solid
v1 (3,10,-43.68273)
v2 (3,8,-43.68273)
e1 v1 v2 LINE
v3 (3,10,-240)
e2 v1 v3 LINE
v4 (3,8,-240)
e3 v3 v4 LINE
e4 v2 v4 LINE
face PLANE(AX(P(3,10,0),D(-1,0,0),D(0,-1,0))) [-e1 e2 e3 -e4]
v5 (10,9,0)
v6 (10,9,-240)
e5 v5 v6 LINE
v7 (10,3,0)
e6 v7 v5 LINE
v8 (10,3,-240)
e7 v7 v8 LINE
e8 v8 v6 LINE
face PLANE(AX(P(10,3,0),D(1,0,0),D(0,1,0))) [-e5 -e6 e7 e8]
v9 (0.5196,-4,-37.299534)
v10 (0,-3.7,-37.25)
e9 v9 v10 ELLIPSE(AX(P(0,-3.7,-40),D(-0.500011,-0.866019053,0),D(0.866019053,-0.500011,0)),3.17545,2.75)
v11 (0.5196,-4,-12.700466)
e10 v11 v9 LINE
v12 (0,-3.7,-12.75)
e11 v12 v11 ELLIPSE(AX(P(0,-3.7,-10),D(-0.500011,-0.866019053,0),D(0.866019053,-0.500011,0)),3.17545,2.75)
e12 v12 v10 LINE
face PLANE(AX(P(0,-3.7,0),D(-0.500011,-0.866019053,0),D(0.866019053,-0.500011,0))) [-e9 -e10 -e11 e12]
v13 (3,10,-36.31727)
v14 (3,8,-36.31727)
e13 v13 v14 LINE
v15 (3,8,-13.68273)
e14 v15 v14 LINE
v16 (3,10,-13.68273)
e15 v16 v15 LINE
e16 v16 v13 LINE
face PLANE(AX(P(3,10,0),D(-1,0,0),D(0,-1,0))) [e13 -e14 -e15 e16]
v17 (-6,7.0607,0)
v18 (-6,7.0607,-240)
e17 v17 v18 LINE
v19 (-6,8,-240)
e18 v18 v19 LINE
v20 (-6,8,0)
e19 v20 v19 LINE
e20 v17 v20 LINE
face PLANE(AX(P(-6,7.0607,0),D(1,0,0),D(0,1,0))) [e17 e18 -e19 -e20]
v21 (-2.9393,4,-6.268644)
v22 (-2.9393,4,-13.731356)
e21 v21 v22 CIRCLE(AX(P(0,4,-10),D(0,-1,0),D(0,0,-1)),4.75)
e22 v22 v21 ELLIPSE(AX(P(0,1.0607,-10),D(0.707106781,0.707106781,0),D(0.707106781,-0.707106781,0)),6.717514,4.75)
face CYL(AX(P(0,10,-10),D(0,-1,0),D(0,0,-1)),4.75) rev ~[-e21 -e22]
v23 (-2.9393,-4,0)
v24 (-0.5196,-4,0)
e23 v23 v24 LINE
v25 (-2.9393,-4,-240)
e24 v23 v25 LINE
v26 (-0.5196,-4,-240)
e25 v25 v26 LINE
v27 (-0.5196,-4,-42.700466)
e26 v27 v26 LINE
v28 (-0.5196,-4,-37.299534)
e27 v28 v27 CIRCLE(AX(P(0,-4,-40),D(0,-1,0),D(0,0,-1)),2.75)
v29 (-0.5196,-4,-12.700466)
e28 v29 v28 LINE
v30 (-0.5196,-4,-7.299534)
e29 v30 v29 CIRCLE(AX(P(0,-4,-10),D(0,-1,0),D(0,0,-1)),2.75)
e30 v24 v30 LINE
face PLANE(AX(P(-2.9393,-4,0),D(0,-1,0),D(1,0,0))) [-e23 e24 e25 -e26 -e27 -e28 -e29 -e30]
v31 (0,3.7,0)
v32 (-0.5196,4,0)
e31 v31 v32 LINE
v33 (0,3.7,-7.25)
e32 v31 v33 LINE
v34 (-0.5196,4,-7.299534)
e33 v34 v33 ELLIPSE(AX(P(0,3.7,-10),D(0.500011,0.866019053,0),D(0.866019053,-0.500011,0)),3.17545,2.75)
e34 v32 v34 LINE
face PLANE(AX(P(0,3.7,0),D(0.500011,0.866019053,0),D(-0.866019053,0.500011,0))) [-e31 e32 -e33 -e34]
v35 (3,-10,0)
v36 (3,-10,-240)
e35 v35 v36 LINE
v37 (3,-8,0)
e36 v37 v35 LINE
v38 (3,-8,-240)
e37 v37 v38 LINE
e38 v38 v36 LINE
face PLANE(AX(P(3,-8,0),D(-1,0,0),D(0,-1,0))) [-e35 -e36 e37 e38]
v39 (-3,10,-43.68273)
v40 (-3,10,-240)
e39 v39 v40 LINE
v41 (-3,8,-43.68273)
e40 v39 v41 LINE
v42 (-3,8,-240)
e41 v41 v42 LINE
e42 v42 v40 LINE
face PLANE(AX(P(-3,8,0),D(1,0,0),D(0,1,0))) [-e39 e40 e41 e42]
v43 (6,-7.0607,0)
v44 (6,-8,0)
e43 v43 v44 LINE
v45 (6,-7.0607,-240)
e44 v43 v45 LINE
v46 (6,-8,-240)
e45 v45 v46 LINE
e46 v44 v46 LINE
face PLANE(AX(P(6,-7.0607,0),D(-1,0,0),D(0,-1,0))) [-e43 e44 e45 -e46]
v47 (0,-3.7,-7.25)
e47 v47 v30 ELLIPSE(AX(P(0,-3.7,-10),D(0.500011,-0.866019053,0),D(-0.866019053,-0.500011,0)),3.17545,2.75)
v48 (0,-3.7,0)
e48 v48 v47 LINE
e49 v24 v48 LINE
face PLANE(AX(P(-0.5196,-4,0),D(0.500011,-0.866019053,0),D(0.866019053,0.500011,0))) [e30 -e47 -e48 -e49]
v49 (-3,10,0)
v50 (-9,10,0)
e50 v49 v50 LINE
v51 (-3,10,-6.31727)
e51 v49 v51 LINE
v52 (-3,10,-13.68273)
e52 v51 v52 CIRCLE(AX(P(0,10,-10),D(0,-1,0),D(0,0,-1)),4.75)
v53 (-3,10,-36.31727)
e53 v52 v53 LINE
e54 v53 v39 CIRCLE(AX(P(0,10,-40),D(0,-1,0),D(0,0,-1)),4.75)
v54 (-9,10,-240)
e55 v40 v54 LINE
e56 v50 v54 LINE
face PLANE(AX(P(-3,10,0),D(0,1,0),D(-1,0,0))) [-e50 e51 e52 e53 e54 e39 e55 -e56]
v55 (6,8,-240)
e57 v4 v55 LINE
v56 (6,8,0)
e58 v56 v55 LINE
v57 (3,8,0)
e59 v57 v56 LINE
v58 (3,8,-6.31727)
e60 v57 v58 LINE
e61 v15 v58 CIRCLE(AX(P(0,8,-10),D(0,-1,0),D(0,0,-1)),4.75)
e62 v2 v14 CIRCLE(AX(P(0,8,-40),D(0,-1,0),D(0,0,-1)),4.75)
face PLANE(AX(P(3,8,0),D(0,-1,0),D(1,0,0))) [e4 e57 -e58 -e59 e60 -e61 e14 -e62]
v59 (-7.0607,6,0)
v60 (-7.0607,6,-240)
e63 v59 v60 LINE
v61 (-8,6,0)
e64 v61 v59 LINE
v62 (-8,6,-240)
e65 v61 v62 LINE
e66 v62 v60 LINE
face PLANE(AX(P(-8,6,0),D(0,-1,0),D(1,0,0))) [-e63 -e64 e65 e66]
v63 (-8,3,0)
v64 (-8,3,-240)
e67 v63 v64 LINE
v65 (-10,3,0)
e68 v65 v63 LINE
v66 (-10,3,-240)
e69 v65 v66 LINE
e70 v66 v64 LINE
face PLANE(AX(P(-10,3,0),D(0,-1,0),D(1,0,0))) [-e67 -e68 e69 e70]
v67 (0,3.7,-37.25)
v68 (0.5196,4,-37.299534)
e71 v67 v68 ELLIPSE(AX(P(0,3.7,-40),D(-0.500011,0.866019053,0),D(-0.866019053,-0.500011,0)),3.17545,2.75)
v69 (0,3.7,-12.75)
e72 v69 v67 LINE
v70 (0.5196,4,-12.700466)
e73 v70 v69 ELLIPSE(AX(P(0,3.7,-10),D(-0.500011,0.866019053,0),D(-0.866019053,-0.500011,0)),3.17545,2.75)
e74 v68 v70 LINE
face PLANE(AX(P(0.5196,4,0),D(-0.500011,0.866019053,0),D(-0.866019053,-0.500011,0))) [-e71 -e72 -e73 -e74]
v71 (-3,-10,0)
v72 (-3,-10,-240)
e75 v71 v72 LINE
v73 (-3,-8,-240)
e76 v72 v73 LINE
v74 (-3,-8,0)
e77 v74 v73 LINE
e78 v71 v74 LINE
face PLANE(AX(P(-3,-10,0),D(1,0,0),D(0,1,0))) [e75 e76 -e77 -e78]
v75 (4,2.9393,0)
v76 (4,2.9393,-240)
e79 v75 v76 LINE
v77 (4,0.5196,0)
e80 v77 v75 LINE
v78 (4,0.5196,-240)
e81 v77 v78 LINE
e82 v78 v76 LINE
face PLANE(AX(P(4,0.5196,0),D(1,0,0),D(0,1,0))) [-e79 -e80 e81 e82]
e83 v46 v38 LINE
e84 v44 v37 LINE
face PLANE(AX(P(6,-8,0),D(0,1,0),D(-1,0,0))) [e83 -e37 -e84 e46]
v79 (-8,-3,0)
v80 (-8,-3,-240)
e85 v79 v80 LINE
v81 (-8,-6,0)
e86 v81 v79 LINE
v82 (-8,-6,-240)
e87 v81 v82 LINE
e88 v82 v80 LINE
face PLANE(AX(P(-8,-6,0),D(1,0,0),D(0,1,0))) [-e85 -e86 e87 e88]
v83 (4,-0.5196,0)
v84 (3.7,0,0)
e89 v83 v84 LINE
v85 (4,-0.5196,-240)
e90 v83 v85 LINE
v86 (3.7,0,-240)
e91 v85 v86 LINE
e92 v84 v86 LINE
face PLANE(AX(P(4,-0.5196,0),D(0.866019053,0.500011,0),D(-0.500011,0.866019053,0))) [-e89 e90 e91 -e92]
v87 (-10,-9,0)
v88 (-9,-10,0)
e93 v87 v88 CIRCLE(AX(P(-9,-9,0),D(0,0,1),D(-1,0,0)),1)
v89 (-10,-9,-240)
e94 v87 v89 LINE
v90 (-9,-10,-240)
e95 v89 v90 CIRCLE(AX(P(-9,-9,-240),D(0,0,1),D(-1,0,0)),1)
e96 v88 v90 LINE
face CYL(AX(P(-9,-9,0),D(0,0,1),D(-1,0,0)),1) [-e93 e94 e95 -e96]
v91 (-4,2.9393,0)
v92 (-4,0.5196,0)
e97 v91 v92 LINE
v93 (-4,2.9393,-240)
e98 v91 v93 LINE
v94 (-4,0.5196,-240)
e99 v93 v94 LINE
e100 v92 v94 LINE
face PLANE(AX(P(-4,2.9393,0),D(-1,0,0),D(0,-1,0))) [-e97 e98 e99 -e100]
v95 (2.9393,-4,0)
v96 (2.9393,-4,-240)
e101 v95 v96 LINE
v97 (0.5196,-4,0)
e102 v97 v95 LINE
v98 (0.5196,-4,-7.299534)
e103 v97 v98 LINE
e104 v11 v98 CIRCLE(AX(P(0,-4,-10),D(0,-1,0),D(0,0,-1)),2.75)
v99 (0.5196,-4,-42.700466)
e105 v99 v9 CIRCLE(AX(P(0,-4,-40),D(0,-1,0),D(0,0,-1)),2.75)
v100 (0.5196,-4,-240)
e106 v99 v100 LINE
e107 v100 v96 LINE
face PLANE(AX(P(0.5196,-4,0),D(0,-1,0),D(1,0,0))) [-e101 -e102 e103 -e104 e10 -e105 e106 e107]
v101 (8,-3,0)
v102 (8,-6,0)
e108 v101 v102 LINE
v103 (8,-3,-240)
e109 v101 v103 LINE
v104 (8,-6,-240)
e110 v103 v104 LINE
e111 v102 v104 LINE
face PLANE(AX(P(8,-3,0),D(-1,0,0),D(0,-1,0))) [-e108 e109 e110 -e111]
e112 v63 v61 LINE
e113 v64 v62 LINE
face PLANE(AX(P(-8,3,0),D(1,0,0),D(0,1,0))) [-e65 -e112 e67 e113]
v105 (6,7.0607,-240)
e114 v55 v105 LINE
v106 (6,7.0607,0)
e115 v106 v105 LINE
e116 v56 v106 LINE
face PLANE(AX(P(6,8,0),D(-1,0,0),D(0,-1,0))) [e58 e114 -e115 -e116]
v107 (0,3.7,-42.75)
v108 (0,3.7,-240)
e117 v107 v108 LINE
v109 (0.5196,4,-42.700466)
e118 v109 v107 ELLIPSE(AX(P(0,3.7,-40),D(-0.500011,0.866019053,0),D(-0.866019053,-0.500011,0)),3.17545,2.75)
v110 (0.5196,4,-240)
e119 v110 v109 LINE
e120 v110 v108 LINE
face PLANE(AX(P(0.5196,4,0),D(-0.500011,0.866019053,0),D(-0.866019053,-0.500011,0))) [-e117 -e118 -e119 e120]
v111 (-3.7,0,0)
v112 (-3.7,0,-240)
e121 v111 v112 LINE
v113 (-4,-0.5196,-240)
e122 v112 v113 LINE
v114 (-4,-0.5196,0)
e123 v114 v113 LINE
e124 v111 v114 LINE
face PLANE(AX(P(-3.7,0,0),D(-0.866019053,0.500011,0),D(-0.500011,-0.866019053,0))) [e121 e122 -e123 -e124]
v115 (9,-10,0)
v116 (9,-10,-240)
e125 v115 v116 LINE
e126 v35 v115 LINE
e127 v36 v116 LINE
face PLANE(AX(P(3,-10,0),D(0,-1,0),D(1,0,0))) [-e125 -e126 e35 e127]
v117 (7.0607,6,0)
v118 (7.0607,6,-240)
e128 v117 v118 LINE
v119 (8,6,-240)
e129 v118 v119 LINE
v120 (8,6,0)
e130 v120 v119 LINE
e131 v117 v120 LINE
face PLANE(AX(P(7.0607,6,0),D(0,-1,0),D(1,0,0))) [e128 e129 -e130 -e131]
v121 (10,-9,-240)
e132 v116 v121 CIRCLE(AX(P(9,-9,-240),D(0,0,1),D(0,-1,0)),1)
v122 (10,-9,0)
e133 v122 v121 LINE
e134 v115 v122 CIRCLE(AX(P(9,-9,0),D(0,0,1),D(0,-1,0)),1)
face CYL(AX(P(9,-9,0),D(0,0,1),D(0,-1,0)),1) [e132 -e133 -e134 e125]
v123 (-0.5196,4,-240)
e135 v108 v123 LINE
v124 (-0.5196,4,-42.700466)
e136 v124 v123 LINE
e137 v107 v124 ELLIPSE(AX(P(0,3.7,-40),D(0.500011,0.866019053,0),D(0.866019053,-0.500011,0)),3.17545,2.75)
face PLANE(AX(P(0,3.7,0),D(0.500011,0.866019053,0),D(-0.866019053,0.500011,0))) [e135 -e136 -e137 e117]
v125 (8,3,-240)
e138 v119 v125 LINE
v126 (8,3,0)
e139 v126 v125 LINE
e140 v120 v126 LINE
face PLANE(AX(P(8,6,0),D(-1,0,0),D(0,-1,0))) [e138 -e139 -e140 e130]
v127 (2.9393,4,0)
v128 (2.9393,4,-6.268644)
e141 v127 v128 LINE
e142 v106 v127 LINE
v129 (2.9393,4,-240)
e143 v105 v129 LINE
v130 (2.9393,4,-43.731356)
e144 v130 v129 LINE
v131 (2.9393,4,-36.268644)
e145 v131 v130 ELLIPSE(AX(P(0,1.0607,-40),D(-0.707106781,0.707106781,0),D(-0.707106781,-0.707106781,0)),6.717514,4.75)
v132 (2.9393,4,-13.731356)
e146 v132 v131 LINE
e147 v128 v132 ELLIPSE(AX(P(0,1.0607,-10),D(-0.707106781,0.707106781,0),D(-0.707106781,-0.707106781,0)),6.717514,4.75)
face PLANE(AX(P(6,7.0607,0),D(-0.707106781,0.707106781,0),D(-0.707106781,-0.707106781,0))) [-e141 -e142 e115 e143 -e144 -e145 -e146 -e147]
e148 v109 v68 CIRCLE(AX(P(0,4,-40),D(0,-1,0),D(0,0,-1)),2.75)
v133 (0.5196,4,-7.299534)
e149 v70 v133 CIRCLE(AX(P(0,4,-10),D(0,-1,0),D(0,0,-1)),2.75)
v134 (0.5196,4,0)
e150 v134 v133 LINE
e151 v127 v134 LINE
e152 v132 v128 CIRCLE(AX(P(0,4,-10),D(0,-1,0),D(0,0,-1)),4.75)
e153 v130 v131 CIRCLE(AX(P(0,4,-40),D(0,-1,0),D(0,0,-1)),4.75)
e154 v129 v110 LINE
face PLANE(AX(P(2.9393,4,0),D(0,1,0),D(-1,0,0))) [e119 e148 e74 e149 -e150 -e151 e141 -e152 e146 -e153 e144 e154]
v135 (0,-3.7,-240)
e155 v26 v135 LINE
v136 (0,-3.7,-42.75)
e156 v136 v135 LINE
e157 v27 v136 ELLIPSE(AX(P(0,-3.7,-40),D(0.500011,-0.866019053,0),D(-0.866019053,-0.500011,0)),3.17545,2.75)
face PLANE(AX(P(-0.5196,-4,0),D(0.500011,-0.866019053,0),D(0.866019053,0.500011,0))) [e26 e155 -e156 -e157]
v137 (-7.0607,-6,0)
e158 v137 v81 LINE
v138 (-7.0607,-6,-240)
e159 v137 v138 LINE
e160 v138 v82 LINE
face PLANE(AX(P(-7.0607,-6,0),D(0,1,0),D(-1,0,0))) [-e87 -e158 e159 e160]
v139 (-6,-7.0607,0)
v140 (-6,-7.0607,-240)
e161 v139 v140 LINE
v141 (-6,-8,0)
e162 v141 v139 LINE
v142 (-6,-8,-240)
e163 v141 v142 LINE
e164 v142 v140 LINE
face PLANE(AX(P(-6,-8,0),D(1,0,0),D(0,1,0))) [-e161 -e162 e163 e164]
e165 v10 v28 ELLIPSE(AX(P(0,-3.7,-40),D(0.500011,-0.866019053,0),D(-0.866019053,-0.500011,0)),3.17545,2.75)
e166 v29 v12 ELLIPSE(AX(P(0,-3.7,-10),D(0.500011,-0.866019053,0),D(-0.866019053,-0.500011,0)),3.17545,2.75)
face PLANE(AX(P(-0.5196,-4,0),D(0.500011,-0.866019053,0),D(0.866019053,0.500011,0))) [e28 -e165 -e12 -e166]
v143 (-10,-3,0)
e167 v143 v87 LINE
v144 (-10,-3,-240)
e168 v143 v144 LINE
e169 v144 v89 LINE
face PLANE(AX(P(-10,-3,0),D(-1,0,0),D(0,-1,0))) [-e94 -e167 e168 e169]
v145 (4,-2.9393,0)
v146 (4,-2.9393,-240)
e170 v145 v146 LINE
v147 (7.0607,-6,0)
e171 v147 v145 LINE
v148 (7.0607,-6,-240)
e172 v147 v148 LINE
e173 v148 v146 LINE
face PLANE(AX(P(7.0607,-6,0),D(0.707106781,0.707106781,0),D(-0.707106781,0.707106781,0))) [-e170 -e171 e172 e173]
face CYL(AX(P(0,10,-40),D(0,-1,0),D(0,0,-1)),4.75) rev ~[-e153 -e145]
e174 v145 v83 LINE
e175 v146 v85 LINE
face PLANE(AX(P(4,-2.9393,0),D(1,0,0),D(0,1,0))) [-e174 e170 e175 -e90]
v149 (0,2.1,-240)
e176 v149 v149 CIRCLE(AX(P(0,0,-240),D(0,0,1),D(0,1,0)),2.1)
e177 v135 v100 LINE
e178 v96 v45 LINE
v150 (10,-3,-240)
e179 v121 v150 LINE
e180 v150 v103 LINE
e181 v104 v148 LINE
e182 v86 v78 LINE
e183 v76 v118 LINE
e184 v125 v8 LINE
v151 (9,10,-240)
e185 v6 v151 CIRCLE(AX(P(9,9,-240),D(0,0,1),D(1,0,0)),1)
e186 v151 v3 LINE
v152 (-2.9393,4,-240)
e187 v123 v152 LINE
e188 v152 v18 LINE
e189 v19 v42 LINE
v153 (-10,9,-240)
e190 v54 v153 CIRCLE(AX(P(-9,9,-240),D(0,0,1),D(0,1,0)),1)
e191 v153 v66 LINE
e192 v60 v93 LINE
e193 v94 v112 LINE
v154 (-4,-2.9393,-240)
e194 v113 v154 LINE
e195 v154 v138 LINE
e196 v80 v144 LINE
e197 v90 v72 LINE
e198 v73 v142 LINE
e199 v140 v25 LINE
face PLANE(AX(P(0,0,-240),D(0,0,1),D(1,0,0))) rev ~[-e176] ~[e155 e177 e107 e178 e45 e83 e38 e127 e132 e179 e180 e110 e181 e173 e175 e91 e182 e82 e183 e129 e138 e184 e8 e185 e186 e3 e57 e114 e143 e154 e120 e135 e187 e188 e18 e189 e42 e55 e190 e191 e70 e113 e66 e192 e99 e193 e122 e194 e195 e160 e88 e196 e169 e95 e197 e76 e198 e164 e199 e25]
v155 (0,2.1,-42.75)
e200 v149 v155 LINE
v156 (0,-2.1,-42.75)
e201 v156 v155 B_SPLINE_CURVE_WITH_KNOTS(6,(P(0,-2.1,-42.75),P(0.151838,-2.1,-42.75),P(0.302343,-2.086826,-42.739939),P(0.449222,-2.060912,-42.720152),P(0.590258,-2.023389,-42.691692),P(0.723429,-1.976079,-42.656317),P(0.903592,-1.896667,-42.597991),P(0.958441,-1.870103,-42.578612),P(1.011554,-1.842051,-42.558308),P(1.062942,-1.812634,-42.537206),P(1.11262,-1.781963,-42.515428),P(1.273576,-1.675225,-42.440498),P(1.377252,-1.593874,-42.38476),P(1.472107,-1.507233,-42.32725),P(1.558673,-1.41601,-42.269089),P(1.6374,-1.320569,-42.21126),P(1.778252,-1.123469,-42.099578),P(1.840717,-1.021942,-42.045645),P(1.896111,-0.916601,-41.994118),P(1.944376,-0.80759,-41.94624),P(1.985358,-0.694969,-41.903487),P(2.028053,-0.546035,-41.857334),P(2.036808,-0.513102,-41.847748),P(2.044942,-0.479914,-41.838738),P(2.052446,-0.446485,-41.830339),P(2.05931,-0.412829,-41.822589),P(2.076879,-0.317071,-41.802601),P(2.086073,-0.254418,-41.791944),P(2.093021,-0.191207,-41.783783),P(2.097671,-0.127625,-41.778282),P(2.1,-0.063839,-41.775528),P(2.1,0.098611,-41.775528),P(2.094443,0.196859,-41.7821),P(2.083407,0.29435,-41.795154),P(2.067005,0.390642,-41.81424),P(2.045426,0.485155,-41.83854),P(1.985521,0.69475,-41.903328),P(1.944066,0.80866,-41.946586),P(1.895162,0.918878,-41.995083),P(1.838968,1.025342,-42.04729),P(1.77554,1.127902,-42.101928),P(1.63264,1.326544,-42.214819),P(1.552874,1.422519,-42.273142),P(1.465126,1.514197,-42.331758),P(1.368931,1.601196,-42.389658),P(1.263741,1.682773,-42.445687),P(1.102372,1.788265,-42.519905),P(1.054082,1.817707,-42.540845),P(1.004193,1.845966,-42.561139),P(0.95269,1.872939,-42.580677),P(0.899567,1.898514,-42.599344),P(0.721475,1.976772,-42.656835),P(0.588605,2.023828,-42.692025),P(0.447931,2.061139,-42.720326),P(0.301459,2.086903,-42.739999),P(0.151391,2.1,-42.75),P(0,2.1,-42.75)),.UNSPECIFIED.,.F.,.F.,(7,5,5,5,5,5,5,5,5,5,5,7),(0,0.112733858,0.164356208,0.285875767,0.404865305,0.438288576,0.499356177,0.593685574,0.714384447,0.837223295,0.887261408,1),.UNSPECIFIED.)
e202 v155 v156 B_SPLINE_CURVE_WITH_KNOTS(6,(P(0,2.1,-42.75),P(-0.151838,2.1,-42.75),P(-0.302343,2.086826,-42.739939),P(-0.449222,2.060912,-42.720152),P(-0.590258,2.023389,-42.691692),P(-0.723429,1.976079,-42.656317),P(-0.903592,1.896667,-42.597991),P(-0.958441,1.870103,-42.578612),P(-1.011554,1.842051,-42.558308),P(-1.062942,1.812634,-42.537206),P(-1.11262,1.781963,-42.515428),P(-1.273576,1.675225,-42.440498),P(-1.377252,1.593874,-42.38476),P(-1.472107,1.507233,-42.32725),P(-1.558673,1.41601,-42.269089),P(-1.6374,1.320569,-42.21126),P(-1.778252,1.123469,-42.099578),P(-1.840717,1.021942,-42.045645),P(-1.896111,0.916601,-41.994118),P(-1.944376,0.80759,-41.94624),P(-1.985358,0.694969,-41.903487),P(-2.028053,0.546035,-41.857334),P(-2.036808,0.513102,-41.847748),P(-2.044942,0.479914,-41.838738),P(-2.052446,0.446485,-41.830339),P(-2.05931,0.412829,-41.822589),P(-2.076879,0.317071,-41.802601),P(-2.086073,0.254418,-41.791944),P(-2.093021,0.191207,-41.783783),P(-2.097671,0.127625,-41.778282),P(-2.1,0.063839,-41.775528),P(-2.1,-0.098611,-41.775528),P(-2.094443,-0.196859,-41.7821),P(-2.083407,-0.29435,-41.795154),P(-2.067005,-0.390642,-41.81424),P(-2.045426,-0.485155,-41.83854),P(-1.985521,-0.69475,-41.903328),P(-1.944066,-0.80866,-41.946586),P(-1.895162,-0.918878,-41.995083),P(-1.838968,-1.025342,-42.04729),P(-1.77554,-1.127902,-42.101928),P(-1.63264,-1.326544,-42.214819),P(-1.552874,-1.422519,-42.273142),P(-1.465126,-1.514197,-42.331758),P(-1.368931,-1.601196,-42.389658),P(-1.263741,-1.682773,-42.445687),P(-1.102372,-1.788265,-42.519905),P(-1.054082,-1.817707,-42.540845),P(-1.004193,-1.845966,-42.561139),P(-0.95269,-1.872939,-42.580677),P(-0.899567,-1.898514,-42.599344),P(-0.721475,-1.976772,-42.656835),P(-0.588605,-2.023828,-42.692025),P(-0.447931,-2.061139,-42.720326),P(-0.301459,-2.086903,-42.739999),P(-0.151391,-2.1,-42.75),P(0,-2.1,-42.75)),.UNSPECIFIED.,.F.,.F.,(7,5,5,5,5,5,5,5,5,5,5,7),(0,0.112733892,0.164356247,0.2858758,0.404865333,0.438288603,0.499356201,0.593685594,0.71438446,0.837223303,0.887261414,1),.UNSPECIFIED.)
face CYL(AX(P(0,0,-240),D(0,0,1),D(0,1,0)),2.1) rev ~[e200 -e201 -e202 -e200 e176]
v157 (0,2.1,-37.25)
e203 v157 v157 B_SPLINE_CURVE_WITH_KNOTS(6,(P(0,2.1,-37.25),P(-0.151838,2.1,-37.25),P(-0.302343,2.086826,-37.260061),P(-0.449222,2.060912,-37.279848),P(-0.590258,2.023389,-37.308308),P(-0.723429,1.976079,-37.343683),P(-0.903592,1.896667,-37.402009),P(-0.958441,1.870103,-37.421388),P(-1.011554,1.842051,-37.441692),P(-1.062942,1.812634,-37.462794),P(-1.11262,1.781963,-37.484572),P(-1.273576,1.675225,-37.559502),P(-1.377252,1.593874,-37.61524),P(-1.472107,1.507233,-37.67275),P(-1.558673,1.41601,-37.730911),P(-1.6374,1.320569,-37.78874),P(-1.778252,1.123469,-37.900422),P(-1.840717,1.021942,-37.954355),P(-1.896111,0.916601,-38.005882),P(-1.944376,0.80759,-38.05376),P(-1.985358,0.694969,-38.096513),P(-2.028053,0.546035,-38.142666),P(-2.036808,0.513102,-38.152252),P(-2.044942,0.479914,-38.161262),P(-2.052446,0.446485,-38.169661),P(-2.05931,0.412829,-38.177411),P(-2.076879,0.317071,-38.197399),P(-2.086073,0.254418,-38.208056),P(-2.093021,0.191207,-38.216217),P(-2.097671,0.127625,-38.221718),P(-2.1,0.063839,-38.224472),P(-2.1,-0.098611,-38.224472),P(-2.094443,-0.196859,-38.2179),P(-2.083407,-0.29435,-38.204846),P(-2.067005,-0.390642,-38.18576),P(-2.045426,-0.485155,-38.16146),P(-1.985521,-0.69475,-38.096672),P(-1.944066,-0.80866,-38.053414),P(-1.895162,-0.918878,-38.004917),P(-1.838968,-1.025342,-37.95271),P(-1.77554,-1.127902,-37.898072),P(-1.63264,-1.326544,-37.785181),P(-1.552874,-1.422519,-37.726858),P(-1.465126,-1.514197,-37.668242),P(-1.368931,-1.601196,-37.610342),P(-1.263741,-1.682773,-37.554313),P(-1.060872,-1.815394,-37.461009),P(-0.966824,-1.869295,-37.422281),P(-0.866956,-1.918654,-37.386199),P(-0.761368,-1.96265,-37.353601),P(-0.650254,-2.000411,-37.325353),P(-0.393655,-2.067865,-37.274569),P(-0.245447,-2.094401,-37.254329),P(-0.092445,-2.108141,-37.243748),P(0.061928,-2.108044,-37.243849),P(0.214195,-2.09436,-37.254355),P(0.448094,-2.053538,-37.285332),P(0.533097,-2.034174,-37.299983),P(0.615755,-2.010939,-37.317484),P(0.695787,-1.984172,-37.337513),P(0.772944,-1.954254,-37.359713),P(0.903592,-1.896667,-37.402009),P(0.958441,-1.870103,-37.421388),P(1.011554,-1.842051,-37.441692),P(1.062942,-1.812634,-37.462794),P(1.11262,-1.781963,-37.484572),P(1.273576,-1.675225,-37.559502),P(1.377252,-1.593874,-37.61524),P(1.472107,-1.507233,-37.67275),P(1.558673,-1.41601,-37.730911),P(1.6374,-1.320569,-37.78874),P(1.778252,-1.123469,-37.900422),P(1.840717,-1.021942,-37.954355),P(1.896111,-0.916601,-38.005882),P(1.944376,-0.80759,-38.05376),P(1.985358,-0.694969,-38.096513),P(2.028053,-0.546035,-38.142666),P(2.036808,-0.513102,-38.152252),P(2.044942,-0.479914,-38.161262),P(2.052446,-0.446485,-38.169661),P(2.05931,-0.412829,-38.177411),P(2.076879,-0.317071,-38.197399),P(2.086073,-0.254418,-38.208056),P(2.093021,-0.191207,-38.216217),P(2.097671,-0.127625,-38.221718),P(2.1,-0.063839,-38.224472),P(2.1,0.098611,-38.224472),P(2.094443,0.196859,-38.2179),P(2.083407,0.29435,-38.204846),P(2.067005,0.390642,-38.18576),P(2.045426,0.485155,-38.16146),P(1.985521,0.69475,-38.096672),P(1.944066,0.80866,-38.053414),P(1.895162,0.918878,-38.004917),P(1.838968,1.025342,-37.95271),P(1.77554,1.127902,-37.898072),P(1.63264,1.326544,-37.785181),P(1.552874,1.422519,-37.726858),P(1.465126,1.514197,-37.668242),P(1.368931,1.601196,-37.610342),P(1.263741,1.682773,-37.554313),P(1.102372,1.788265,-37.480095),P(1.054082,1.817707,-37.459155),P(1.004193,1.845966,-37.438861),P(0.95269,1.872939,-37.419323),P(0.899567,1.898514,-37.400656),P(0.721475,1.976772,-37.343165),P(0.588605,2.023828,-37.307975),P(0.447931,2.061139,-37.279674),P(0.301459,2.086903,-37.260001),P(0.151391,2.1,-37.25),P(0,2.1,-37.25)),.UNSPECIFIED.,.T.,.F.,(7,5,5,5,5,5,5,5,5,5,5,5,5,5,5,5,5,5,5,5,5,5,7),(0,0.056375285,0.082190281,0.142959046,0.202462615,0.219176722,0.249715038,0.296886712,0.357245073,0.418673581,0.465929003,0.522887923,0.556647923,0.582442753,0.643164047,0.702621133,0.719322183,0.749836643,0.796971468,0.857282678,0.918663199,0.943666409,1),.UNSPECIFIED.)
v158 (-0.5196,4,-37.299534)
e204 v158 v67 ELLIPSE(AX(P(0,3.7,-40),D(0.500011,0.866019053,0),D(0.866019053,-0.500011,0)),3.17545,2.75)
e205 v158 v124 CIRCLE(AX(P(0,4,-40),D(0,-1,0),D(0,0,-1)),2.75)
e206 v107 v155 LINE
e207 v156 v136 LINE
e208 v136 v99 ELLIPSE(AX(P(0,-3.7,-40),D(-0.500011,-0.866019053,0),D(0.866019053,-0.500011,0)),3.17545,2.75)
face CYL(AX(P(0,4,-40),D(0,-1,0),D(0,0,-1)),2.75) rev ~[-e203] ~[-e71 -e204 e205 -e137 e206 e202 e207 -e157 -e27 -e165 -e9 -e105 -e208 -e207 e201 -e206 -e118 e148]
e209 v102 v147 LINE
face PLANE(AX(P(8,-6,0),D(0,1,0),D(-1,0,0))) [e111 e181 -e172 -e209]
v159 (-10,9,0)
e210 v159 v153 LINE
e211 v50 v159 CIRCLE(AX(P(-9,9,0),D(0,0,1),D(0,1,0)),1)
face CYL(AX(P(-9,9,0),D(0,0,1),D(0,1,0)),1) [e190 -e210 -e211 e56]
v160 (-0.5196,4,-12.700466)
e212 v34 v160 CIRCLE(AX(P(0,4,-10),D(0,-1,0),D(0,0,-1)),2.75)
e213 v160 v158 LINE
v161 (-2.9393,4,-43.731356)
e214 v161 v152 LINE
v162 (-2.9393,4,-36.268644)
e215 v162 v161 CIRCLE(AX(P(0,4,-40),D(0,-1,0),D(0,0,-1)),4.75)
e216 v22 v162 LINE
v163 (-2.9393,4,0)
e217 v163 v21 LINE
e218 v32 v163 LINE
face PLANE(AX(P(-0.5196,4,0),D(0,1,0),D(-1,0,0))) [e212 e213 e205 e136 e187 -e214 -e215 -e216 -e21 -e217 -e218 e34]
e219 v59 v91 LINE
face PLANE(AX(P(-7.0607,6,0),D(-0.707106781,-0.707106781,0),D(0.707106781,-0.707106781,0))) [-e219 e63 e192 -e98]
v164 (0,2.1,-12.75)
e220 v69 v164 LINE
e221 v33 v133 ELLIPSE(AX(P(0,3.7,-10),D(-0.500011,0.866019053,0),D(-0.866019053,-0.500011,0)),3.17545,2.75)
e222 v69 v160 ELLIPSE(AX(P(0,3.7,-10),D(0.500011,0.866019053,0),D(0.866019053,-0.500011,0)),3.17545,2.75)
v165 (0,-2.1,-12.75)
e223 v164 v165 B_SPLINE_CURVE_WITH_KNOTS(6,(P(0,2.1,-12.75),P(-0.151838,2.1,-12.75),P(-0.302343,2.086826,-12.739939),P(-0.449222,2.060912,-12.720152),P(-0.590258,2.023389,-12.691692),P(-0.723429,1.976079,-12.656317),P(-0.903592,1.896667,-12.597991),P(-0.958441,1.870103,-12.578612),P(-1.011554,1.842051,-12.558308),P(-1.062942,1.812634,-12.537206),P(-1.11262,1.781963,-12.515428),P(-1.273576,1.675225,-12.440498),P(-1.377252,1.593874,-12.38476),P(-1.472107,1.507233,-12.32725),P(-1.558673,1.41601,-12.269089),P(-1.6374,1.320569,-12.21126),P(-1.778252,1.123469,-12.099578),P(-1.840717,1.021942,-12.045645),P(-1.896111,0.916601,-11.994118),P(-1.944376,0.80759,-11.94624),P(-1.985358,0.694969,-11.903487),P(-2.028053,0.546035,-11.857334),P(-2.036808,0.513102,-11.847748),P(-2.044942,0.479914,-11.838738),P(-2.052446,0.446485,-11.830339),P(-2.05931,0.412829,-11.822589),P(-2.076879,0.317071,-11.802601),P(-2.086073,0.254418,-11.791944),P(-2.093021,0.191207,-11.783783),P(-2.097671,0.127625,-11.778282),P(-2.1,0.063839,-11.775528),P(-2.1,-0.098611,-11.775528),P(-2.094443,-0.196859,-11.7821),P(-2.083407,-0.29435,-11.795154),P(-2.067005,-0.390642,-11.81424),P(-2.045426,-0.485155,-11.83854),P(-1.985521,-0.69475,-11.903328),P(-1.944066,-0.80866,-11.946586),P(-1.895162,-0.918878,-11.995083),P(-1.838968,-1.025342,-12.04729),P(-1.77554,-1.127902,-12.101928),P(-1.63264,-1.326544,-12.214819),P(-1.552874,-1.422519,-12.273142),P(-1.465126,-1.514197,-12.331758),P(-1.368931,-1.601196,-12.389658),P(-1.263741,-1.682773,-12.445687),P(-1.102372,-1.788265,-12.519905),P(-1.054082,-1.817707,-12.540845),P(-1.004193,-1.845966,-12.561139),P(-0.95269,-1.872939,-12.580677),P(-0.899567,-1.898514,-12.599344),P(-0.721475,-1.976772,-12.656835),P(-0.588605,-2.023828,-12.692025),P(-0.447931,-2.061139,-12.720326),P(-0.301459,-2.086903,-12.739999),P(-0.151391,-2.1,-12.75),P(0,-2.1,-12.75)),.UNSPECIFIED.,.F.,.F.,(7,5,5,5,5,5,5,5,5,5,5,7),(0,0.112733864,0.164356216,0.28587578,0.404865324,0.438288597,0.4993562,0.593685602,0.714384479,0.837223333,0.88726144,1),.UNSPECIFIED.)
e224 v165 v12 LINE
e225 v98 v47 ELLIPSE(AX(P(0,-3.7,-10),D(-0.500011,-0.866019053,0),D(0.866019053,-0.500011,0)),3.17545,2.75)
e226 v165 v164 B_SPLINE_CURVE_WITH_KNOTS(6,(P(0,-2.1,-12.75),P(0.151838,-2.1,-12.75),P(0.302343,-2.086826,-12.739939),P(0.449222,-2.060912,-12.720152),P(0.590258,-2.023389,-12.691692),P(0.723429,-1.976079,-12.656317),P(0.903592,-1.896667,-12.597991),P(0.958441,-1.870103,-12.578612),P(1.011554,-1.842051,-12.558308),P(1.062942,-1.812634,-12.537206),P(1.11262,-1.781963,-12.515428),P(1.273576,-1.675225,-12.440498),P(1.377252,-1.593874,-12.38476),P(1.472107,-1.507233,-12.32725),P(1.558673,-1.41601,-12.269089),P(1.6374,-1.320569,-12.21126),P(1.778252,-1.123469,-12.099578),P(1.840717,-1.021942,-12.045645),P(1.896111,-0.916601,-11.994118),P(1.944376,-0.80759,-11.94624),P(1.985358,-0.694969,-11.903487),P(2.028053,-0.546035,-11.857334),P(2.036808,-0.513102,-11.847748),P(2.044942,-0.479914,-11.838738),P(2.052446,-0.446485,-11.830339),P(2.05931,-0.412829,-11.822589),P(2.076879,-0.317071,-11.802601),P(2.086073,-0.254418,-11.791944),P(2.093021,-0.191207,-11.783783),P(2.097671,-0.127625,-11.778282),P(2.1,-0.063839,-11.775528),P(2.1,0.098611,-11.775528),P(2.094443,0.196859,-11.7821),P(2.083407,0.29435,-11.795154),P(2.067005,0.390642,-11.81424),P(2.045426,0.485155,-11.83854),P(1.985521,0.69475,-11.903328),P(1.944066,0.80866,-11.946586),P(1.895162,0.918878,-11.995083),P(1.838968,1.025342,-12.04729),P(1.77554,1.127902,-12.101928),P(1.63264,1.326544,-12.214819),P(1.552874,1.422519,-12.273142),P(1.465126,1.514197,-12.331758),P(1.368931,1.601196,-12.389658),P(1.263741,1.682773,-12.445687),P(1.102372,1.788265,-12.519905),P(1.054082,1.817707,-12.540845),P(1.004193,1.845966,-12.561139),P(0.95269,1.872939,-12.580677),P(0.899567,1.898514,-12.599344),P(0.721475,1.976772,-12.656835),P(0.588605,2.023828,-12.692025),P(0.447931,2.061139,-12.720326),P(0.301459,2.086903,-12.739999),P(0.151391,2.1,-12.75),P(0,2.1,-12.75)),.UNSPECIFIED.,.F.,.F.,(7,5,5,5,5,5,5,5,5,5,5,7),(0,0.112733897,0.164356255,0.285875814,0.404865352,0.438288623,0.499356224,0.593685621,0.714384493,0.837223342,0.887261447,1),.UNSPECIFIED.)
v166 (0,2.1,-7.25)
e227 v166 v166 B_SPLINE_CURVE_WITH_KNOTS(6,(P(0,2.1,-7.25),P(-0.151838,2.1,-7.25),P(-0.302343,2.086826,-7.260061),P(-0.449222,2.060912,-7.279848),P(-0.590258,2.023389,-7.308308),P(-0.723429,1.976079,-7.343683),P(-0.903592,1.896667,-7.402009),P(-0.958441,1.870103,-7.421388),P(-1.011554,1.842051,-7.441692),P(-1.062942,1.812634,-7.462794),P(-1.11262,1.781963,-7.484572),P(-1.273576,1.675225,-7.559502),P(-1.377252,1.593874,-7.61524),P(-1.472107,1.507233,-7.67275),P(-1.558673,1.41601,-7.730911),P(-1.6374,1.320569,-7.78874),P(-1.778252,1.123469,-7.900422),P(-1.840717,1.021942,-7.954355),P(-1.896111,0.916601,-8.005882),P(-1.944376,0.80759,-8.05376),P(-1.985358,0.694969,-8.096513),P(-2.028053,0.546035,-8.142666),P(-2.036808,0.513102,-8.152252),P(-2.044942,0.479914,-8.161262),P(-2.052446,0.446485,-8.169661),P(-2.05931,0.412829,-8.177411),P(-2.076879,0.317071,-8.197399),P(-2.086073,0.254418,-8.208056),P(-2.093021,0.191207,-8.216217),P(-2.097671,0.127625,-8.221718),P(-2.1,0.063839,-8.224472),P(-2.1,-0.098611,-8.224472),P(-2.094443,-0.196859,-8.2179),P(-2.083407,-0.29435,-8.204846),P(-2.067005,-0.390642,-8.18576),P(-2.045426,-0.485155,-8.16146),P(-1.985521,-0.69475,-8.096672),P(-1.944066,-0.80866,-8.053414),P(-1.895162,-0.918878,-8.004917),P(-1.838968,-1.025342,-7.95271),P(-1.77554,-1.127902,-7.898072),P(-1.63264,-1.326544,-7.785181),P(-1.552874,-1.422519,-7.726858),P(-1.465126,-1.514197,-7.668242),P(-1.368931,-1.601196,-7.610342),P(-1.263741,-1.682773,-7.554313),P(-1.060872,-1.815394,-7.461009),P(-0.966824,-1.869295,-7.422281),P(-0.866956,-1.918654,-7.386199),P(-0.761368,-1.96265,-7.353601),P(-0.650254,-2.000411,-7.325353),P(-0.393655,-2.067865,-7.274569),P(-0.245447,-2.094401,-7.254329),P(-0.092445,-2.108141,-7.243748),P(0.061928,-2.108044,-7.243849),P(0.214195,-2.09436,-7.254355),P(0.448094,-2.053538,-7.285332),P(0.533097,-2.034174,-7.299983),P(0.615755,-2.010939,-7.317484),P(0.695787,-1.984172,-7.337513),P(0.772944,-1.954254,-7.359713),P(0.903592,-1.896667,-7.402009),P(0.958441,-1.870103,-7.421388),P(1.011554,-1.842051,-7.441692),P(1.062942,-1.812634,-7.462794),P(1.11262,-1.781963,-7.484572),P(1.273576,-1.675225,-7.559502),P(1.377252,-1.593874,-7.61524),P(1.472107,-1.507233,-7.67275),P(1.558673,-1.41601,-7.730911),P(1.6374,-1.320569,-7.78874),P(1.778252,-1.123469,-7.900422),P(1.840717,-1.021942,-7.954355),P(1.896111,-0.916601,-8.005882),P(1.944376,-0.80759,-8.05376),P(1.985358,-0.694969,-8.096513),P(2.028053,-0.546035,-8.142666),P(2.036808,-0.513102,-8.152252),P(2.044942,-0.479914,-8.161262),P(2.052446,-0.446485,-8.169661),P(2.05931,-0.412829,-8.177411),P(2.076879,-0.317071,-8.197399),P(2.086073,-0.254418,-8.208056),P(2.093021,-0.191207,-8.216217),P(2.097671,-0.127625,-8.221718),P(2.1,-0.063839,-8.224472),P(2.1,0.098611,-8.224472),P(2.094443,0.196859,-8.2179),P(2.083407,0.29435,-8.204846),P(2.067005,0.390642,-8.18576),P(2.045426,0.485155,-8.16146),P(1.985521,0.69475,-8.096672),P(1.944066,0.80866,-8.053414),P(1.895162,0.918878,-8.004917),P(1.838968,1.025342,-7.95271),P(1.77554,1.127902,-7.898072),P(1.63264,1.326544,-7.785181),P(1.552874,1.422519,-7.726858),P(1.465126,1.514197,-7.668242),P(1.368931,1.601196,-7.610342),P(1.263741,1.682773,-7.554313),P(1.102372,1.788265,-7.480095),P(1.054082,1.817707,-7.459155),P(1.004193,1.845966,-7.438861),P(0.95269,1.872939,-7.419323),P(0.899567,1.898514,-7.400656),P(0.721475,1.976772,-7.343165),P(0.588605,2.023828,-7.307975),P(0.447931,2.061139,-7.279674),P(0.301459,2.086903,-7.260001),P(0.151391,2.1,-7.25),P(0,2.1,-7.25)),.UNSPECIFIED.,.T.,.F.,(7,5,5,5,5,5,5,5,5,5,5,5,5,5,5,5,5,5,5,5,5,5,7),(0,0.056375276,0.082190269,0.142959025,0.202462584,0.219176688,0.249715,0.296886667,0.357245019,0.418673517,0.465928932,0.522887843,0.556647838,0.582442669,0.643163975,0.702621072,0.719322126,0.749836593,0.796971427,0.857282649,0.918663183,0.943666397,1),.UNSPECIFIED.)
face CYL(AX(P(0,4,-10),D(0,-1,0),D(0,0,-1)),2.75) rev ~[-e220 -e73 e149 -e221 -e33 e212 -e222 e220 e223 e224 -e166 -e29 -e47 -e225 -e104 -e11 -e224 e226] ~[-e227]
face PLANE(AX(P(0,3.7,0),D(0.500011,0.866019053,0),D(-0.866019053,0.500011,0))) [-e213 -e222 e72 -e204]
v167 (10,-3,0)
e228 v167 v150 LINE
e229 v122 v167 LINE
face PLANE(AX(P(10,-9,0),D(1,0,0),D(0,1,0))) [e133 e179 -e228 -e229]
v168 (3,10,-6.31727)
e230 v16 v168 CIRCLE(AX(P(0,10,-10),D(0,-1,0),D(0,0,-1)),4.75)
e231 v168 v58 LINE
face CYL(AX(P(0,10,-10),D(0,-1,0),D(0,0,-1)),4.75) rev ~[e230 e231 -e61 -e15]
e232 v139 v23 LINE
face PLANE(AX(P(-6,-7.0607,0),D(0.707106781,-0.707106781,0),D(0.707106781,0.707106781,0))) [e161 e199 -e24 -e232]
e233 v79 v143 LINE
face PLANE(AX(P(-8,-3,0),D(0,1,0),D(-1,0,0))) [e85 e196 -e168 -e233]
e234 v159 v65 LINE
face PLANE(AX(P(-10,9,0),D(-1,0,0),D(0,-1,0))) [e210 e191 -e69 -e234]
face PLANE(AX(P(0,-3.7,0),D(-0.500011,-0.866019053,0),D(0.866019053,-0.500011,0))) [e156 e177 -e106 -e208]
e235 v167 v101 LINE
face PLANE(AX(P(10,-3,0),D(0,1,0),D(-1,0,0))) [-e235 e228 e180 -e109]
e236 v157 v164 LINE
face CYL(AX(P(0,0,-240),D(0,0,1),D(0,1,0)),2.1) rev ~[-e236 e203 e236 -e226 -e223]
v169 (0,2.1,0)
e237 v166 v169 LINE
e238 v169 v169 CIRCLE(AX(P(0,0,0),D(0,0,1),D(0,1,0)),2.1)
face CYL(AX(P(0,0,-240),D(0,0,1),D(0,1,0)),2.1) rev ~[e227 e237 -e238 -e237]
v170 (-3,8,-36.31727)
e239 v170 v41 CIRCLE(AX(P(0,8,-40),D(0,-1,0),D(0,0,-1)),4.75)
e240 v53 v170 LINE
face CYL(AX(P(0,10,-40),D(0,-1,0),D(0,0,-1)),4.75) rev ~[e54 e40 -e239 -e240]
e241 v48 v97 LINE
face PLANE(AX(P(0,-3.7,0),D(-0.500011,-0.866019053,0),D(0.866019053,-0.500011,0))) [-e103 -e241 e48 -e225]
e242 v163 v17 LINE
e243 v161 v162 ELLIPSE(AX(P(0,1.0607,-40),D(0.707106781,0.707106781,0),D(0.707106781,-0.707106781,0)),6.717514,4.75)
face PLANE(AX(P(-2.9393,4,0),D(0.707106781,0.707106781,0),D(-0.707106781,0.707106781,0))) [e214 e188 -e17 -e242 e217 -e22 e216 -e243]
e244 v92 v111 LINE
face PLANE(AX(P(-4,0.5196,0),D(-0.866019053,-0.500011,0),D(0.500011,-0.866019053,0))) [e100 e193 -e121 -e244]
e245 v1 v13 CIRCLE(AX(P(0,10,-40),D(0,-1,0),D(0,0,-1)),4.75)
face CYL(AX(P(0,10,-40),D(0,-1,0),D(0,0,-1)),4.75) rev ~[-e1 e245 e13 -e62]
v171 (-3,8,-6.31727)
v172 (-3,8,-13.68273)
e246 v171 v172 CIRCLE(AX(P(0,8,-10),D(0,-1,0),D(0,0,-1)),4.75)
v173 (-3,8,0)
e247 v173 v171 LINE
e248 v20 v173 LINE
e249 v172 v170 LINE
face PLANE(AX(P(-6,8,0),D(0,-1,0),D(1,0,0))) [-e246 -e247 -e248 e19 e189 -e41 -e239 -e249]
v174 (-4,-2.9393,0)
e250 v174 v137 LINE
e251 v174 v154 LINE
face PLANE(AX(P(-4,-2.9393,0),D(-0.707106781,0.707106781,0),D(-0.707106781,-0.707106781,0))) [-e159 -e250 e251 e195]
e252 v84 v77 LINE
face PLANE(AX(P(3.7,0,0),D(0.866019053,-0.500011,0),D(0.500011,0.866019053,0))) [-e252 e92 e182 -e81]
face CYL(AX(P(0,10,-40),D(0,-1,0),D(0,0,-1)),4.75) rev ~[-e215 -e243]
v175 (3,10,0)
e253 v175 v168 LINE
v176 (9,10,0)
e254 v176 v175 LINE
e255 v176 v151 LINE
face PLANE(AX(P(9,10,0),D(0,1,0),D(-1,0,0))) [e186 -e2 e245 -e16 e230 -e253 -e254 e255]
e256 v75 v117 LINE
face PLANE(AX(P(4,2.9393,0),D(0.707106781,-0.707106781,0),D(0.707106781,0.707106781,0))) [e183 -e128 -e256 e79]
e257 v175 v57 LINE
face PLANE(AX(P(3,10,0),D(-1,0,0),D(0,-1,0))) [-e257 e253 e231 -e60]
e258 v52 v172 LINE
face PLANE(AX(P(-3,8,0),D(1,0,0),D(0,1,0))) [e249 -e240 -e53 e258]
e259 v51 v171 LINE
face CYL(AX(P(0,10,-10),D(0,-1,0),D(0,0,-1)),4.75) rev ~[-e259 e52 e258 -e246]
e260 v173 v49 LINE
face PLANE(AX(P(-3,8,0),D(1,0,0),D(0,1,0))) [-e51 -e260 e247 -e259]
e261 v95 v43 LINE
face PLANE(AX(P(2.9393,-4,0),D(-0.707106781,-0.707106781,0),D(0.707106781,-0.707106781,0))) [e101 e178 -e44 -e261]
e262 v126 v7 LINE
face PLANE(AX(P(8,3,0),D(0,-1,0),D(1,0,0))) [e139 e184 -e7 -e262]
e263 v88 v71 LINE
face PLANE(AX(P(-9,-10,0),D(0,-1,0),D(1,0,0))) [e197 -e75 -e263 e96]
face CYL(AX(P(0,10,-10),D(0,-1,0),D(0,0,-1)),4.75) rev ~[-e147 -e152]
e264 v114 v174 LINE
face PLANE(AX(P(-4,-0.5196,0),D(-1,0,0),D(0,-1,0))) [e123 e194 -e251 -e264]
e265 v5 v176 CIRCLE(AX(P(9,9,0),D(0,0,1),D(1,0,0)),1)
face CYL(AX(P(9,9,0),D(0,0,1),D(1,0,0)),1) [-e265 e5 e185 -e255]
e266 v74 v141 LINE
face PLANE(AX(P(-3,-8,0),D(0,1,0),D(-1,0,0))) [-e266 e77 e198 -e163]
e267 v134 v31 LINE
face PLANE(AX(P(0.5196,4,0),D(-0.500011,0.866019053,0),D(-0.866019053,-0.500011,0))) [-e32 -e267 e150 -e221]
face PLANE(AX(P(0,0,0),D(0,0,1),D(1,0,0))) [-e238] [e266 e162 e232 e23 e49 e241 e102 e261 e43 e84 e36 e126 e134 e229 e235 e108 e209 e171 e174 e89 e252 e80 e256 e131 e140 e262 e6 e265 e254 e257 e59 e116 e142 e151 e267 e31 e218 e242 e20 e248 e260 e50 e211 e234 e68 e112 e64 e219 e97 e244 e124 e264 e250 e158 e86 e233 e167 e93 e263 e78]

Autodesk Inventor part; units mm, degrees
sketch "Sketch_1" plane through (0, 0, 0) normal (0, 0, 1) x (1, 0, 0)
  line L0 (-10, -3) -> (-10, -9)
  arc A0 (-10, -9) -> (-9, -10) centre (-9, -9) ccw
  line L1 (-9, -10) -> (-3, -10)
  line L2 (-3, -10) -> (-3, -8)
  line L3 (-3, -8) -> (-6, -8)
  line L4 (-6, -8) -> (-6, -7.0607)
  line L5 (-6, -7.0607) -> (-2.9393, -4)
  line L6 (-2.9393, -4) -> (-0.5196, -4)
  line L7 (-0.5196, -4) -> (0, -3.7)
  line L8 (0, -3.7) -> (0.5196, -4)
  line L9 (0.5196, -4) -> (2.9393, -4)
  line L10 (2.9393, -4) -> (6, -7.0607)
  line L11 (6, -7.0607) -> (6, -8)
  line L12 (6, -8) -> (3, -8)
  line L13 (3, -8) -> (3, -10)
  line L14 (3, -10) -> (9, -10)
  arc A1 (9, -10) -> (10, -9) centre (9, -9) ccw
  line L15 (10, -9) -> (10, -3)
  line L16 (10, -3) -> (8, -3)
  line L17 (8, -3) -> (8, -6)
  line L18 (8, -6) -> (7.0607, -6)
  line L19 (7.0607, -6) -> (4, -2.9393)
  line L20 (4, -2.9393) -> (4, -0.5196)
  line L21 (4, -0.5196) -> (3.7, 0)
  line L22 (3.7, 0) -> (4, 0.5196)
  line L23 (4, 0.5196) -> (4, 2.9393)
  line L24 (4, 2.9393) -> (7.0607, 6)
  line L25 (7.0607, 6) -> (8, 6)
  line L26 (8, 6) -> (8, 3)
  line L27 (8, 3) -> (10, 3)
  line L28 (10, 3) -> (10, 9)
  arc A2 (10, 9) -> (9, 10) centre (9, 9) ccw
  line L29 (9, 10) -> (3, 10)
  line L30 (3, 10) -> (3, 8)
  line L31 (3, 8) -> (6, 8)
  line L32 (6, 8) -> (6, 7.0607)
  line L33 (6, 7.0607) -> (2.9393, 4)
  line L34 (2.9393, 4) -> (0.5196, 4)
  line L35 (0.5196, 4) -> (0, 3.7)
  line L36 (0, 3.7) -> (-0.5196, 4)
  line L37 (-0.5196, 4) -> (-2.9393, 4)
  line L38 (-2.9393, 4) -> (-6, 7.0607)
  line L39 (-6, 7.0607) -> (-6, 8)
  line L40 (-6, 8) -> (-3, 8)
  line L41 (-3, 8) -> (-3, 10)
  line L42 (-3, 10) -> (-9, 10)
  arc A3 (-9, 10) -> (-10, 9) centre (-9, 9) ccw
  line L43 (-10, 9) -> (-10, 3)
  line L44 (-10, 3) -> (-8, 3)
  line L45 (-8, 3) -> (-8, 6)
  line L46 (-8, 6) -> (-7.0607, 6)
  line L47 (-7.0607, 6) -> (-4, 2.9393)
  line L48 (-4, 2.9393) -> (-4, 0.5196)
  line L49 (-4, 0.5196) -> (-3.7, 0)
  line L50 (-3.7, 0) -> (-4, -0.5196)
  line L51 (-4, -0.5196) -> (-4, -2.9393)
  line L52 (-4, -2.9393) -> (-7.0607, -6)
  line L53 (-7.0607, -6) -> (-8, -6)
  line L54 (-8, -6) -> (-8, -3)
  line L55 (-8, -3) -> (-10, -3)
extrude "Extrusion1" add sketch "Sketch_1" against normal blind 240
sketch "Sketch2" plane through (0, 0, -240) normal (0, 0, -1) x (-1, 0, 0)
  point P0 (0, 0)
hole "Hole1" at (0, 0, -240) direction (0, 0, 1) diameter 4.2 depth 300
sketch "Sketch_30" plane through (0, 0, 0) normal (1, 0, 0) x (0, 0, -1)
  line L0 (10, -10) -> (10, 10)
  line L1 (10, 10) -> (14.75, 10)
  line L2 (14.75, 10) -> (14.75, 4)
  line L3 (14.75, 4) -> (12.75, 4)
  line L4 (12.75, 4) -> (12.75, -10)
  line L5 (12.75, -10) -> (10, -10)
  line L6 (10, -10) -> (10, 10)
revolve "Revolution1" cut sketch "Sketch_30" angle 360 about axis through (0, -10, -10) along (0, -1, 0)
sketch "Sketch_31" plane through (0, 0, 0) normal (1, 0, 0) x (0, 0, -1)
  line L0 (40, -10) -> (40, 10)
  line L1 (40, 10) -> (44.75, 10)
  line L2 (44.75, 10) -> (44.75, 4)
  line L3 (44.75, 4) -> (42.75, 4)
  line L4 (42.75, 4) -> (42.75, -10)
  line L5 (42.75, -10) -> (40, -10)
  line L6 (40, -10) -> (40, 10)
revolve "Revolution2" cut sketch "Sketch_31" angle 360 about axis through (0, -10, -40) along (0, -1, 0)
sketch "Sketch_47" plane through (0, 0, 0) normal (1, 0, 0) x (0, 0, -1)
  line L0 (260, -10) -> (260, 10)
  line L1 (260, 10) -> (264.75, 10)
  line L2 (264.75, 10) -> (264.75, 4)
  line L3 (264.75, 4) -> (262.75, 4)
  line L4 (262.75, 4) -> (262.75, -10)
  line L5 (262.75, -10) -> (260, -10)
  line L6 (260, -10) -> (260, 10)
revolve "Revolution3" [suppressed]
sketch "Sketch_48" plane through (0, 0, 0) normal (1, 0, 0) x (0, 0, -1)
  line L0 (290, -10) -> (290, 10)
  line L1 (290, 10) -> (294.75, 10)
  line L2 (294.75, 10) -> (294.75, 4)
  line L3 (294.75, 4) -> (292.75, 4)
  line L4 (292.75, 4) -> (292.75, -10)
  line L5 (292.75, -10) -> (290, -10)
  line L6 (290, -10) -> (290, 10)
revolve "Revolution4" [suppressed]
ref_plane "C1_XY" through (0, 0, 0) normal (0, 0, 1) x (1, 0, 0)
ref_plane "C1_YZ" through (0, 0, 0) normal (1, 0, 0) x (0, 1, 0)
ref_plane "C1_ZX" through (0, 0, 0) normal (0, 1, 0) x (0, 0, 1)
properties part number "HFS5-2020-300-Z5-XA10-XB40-XC260-XD290" material "アルミニウム 6061"
